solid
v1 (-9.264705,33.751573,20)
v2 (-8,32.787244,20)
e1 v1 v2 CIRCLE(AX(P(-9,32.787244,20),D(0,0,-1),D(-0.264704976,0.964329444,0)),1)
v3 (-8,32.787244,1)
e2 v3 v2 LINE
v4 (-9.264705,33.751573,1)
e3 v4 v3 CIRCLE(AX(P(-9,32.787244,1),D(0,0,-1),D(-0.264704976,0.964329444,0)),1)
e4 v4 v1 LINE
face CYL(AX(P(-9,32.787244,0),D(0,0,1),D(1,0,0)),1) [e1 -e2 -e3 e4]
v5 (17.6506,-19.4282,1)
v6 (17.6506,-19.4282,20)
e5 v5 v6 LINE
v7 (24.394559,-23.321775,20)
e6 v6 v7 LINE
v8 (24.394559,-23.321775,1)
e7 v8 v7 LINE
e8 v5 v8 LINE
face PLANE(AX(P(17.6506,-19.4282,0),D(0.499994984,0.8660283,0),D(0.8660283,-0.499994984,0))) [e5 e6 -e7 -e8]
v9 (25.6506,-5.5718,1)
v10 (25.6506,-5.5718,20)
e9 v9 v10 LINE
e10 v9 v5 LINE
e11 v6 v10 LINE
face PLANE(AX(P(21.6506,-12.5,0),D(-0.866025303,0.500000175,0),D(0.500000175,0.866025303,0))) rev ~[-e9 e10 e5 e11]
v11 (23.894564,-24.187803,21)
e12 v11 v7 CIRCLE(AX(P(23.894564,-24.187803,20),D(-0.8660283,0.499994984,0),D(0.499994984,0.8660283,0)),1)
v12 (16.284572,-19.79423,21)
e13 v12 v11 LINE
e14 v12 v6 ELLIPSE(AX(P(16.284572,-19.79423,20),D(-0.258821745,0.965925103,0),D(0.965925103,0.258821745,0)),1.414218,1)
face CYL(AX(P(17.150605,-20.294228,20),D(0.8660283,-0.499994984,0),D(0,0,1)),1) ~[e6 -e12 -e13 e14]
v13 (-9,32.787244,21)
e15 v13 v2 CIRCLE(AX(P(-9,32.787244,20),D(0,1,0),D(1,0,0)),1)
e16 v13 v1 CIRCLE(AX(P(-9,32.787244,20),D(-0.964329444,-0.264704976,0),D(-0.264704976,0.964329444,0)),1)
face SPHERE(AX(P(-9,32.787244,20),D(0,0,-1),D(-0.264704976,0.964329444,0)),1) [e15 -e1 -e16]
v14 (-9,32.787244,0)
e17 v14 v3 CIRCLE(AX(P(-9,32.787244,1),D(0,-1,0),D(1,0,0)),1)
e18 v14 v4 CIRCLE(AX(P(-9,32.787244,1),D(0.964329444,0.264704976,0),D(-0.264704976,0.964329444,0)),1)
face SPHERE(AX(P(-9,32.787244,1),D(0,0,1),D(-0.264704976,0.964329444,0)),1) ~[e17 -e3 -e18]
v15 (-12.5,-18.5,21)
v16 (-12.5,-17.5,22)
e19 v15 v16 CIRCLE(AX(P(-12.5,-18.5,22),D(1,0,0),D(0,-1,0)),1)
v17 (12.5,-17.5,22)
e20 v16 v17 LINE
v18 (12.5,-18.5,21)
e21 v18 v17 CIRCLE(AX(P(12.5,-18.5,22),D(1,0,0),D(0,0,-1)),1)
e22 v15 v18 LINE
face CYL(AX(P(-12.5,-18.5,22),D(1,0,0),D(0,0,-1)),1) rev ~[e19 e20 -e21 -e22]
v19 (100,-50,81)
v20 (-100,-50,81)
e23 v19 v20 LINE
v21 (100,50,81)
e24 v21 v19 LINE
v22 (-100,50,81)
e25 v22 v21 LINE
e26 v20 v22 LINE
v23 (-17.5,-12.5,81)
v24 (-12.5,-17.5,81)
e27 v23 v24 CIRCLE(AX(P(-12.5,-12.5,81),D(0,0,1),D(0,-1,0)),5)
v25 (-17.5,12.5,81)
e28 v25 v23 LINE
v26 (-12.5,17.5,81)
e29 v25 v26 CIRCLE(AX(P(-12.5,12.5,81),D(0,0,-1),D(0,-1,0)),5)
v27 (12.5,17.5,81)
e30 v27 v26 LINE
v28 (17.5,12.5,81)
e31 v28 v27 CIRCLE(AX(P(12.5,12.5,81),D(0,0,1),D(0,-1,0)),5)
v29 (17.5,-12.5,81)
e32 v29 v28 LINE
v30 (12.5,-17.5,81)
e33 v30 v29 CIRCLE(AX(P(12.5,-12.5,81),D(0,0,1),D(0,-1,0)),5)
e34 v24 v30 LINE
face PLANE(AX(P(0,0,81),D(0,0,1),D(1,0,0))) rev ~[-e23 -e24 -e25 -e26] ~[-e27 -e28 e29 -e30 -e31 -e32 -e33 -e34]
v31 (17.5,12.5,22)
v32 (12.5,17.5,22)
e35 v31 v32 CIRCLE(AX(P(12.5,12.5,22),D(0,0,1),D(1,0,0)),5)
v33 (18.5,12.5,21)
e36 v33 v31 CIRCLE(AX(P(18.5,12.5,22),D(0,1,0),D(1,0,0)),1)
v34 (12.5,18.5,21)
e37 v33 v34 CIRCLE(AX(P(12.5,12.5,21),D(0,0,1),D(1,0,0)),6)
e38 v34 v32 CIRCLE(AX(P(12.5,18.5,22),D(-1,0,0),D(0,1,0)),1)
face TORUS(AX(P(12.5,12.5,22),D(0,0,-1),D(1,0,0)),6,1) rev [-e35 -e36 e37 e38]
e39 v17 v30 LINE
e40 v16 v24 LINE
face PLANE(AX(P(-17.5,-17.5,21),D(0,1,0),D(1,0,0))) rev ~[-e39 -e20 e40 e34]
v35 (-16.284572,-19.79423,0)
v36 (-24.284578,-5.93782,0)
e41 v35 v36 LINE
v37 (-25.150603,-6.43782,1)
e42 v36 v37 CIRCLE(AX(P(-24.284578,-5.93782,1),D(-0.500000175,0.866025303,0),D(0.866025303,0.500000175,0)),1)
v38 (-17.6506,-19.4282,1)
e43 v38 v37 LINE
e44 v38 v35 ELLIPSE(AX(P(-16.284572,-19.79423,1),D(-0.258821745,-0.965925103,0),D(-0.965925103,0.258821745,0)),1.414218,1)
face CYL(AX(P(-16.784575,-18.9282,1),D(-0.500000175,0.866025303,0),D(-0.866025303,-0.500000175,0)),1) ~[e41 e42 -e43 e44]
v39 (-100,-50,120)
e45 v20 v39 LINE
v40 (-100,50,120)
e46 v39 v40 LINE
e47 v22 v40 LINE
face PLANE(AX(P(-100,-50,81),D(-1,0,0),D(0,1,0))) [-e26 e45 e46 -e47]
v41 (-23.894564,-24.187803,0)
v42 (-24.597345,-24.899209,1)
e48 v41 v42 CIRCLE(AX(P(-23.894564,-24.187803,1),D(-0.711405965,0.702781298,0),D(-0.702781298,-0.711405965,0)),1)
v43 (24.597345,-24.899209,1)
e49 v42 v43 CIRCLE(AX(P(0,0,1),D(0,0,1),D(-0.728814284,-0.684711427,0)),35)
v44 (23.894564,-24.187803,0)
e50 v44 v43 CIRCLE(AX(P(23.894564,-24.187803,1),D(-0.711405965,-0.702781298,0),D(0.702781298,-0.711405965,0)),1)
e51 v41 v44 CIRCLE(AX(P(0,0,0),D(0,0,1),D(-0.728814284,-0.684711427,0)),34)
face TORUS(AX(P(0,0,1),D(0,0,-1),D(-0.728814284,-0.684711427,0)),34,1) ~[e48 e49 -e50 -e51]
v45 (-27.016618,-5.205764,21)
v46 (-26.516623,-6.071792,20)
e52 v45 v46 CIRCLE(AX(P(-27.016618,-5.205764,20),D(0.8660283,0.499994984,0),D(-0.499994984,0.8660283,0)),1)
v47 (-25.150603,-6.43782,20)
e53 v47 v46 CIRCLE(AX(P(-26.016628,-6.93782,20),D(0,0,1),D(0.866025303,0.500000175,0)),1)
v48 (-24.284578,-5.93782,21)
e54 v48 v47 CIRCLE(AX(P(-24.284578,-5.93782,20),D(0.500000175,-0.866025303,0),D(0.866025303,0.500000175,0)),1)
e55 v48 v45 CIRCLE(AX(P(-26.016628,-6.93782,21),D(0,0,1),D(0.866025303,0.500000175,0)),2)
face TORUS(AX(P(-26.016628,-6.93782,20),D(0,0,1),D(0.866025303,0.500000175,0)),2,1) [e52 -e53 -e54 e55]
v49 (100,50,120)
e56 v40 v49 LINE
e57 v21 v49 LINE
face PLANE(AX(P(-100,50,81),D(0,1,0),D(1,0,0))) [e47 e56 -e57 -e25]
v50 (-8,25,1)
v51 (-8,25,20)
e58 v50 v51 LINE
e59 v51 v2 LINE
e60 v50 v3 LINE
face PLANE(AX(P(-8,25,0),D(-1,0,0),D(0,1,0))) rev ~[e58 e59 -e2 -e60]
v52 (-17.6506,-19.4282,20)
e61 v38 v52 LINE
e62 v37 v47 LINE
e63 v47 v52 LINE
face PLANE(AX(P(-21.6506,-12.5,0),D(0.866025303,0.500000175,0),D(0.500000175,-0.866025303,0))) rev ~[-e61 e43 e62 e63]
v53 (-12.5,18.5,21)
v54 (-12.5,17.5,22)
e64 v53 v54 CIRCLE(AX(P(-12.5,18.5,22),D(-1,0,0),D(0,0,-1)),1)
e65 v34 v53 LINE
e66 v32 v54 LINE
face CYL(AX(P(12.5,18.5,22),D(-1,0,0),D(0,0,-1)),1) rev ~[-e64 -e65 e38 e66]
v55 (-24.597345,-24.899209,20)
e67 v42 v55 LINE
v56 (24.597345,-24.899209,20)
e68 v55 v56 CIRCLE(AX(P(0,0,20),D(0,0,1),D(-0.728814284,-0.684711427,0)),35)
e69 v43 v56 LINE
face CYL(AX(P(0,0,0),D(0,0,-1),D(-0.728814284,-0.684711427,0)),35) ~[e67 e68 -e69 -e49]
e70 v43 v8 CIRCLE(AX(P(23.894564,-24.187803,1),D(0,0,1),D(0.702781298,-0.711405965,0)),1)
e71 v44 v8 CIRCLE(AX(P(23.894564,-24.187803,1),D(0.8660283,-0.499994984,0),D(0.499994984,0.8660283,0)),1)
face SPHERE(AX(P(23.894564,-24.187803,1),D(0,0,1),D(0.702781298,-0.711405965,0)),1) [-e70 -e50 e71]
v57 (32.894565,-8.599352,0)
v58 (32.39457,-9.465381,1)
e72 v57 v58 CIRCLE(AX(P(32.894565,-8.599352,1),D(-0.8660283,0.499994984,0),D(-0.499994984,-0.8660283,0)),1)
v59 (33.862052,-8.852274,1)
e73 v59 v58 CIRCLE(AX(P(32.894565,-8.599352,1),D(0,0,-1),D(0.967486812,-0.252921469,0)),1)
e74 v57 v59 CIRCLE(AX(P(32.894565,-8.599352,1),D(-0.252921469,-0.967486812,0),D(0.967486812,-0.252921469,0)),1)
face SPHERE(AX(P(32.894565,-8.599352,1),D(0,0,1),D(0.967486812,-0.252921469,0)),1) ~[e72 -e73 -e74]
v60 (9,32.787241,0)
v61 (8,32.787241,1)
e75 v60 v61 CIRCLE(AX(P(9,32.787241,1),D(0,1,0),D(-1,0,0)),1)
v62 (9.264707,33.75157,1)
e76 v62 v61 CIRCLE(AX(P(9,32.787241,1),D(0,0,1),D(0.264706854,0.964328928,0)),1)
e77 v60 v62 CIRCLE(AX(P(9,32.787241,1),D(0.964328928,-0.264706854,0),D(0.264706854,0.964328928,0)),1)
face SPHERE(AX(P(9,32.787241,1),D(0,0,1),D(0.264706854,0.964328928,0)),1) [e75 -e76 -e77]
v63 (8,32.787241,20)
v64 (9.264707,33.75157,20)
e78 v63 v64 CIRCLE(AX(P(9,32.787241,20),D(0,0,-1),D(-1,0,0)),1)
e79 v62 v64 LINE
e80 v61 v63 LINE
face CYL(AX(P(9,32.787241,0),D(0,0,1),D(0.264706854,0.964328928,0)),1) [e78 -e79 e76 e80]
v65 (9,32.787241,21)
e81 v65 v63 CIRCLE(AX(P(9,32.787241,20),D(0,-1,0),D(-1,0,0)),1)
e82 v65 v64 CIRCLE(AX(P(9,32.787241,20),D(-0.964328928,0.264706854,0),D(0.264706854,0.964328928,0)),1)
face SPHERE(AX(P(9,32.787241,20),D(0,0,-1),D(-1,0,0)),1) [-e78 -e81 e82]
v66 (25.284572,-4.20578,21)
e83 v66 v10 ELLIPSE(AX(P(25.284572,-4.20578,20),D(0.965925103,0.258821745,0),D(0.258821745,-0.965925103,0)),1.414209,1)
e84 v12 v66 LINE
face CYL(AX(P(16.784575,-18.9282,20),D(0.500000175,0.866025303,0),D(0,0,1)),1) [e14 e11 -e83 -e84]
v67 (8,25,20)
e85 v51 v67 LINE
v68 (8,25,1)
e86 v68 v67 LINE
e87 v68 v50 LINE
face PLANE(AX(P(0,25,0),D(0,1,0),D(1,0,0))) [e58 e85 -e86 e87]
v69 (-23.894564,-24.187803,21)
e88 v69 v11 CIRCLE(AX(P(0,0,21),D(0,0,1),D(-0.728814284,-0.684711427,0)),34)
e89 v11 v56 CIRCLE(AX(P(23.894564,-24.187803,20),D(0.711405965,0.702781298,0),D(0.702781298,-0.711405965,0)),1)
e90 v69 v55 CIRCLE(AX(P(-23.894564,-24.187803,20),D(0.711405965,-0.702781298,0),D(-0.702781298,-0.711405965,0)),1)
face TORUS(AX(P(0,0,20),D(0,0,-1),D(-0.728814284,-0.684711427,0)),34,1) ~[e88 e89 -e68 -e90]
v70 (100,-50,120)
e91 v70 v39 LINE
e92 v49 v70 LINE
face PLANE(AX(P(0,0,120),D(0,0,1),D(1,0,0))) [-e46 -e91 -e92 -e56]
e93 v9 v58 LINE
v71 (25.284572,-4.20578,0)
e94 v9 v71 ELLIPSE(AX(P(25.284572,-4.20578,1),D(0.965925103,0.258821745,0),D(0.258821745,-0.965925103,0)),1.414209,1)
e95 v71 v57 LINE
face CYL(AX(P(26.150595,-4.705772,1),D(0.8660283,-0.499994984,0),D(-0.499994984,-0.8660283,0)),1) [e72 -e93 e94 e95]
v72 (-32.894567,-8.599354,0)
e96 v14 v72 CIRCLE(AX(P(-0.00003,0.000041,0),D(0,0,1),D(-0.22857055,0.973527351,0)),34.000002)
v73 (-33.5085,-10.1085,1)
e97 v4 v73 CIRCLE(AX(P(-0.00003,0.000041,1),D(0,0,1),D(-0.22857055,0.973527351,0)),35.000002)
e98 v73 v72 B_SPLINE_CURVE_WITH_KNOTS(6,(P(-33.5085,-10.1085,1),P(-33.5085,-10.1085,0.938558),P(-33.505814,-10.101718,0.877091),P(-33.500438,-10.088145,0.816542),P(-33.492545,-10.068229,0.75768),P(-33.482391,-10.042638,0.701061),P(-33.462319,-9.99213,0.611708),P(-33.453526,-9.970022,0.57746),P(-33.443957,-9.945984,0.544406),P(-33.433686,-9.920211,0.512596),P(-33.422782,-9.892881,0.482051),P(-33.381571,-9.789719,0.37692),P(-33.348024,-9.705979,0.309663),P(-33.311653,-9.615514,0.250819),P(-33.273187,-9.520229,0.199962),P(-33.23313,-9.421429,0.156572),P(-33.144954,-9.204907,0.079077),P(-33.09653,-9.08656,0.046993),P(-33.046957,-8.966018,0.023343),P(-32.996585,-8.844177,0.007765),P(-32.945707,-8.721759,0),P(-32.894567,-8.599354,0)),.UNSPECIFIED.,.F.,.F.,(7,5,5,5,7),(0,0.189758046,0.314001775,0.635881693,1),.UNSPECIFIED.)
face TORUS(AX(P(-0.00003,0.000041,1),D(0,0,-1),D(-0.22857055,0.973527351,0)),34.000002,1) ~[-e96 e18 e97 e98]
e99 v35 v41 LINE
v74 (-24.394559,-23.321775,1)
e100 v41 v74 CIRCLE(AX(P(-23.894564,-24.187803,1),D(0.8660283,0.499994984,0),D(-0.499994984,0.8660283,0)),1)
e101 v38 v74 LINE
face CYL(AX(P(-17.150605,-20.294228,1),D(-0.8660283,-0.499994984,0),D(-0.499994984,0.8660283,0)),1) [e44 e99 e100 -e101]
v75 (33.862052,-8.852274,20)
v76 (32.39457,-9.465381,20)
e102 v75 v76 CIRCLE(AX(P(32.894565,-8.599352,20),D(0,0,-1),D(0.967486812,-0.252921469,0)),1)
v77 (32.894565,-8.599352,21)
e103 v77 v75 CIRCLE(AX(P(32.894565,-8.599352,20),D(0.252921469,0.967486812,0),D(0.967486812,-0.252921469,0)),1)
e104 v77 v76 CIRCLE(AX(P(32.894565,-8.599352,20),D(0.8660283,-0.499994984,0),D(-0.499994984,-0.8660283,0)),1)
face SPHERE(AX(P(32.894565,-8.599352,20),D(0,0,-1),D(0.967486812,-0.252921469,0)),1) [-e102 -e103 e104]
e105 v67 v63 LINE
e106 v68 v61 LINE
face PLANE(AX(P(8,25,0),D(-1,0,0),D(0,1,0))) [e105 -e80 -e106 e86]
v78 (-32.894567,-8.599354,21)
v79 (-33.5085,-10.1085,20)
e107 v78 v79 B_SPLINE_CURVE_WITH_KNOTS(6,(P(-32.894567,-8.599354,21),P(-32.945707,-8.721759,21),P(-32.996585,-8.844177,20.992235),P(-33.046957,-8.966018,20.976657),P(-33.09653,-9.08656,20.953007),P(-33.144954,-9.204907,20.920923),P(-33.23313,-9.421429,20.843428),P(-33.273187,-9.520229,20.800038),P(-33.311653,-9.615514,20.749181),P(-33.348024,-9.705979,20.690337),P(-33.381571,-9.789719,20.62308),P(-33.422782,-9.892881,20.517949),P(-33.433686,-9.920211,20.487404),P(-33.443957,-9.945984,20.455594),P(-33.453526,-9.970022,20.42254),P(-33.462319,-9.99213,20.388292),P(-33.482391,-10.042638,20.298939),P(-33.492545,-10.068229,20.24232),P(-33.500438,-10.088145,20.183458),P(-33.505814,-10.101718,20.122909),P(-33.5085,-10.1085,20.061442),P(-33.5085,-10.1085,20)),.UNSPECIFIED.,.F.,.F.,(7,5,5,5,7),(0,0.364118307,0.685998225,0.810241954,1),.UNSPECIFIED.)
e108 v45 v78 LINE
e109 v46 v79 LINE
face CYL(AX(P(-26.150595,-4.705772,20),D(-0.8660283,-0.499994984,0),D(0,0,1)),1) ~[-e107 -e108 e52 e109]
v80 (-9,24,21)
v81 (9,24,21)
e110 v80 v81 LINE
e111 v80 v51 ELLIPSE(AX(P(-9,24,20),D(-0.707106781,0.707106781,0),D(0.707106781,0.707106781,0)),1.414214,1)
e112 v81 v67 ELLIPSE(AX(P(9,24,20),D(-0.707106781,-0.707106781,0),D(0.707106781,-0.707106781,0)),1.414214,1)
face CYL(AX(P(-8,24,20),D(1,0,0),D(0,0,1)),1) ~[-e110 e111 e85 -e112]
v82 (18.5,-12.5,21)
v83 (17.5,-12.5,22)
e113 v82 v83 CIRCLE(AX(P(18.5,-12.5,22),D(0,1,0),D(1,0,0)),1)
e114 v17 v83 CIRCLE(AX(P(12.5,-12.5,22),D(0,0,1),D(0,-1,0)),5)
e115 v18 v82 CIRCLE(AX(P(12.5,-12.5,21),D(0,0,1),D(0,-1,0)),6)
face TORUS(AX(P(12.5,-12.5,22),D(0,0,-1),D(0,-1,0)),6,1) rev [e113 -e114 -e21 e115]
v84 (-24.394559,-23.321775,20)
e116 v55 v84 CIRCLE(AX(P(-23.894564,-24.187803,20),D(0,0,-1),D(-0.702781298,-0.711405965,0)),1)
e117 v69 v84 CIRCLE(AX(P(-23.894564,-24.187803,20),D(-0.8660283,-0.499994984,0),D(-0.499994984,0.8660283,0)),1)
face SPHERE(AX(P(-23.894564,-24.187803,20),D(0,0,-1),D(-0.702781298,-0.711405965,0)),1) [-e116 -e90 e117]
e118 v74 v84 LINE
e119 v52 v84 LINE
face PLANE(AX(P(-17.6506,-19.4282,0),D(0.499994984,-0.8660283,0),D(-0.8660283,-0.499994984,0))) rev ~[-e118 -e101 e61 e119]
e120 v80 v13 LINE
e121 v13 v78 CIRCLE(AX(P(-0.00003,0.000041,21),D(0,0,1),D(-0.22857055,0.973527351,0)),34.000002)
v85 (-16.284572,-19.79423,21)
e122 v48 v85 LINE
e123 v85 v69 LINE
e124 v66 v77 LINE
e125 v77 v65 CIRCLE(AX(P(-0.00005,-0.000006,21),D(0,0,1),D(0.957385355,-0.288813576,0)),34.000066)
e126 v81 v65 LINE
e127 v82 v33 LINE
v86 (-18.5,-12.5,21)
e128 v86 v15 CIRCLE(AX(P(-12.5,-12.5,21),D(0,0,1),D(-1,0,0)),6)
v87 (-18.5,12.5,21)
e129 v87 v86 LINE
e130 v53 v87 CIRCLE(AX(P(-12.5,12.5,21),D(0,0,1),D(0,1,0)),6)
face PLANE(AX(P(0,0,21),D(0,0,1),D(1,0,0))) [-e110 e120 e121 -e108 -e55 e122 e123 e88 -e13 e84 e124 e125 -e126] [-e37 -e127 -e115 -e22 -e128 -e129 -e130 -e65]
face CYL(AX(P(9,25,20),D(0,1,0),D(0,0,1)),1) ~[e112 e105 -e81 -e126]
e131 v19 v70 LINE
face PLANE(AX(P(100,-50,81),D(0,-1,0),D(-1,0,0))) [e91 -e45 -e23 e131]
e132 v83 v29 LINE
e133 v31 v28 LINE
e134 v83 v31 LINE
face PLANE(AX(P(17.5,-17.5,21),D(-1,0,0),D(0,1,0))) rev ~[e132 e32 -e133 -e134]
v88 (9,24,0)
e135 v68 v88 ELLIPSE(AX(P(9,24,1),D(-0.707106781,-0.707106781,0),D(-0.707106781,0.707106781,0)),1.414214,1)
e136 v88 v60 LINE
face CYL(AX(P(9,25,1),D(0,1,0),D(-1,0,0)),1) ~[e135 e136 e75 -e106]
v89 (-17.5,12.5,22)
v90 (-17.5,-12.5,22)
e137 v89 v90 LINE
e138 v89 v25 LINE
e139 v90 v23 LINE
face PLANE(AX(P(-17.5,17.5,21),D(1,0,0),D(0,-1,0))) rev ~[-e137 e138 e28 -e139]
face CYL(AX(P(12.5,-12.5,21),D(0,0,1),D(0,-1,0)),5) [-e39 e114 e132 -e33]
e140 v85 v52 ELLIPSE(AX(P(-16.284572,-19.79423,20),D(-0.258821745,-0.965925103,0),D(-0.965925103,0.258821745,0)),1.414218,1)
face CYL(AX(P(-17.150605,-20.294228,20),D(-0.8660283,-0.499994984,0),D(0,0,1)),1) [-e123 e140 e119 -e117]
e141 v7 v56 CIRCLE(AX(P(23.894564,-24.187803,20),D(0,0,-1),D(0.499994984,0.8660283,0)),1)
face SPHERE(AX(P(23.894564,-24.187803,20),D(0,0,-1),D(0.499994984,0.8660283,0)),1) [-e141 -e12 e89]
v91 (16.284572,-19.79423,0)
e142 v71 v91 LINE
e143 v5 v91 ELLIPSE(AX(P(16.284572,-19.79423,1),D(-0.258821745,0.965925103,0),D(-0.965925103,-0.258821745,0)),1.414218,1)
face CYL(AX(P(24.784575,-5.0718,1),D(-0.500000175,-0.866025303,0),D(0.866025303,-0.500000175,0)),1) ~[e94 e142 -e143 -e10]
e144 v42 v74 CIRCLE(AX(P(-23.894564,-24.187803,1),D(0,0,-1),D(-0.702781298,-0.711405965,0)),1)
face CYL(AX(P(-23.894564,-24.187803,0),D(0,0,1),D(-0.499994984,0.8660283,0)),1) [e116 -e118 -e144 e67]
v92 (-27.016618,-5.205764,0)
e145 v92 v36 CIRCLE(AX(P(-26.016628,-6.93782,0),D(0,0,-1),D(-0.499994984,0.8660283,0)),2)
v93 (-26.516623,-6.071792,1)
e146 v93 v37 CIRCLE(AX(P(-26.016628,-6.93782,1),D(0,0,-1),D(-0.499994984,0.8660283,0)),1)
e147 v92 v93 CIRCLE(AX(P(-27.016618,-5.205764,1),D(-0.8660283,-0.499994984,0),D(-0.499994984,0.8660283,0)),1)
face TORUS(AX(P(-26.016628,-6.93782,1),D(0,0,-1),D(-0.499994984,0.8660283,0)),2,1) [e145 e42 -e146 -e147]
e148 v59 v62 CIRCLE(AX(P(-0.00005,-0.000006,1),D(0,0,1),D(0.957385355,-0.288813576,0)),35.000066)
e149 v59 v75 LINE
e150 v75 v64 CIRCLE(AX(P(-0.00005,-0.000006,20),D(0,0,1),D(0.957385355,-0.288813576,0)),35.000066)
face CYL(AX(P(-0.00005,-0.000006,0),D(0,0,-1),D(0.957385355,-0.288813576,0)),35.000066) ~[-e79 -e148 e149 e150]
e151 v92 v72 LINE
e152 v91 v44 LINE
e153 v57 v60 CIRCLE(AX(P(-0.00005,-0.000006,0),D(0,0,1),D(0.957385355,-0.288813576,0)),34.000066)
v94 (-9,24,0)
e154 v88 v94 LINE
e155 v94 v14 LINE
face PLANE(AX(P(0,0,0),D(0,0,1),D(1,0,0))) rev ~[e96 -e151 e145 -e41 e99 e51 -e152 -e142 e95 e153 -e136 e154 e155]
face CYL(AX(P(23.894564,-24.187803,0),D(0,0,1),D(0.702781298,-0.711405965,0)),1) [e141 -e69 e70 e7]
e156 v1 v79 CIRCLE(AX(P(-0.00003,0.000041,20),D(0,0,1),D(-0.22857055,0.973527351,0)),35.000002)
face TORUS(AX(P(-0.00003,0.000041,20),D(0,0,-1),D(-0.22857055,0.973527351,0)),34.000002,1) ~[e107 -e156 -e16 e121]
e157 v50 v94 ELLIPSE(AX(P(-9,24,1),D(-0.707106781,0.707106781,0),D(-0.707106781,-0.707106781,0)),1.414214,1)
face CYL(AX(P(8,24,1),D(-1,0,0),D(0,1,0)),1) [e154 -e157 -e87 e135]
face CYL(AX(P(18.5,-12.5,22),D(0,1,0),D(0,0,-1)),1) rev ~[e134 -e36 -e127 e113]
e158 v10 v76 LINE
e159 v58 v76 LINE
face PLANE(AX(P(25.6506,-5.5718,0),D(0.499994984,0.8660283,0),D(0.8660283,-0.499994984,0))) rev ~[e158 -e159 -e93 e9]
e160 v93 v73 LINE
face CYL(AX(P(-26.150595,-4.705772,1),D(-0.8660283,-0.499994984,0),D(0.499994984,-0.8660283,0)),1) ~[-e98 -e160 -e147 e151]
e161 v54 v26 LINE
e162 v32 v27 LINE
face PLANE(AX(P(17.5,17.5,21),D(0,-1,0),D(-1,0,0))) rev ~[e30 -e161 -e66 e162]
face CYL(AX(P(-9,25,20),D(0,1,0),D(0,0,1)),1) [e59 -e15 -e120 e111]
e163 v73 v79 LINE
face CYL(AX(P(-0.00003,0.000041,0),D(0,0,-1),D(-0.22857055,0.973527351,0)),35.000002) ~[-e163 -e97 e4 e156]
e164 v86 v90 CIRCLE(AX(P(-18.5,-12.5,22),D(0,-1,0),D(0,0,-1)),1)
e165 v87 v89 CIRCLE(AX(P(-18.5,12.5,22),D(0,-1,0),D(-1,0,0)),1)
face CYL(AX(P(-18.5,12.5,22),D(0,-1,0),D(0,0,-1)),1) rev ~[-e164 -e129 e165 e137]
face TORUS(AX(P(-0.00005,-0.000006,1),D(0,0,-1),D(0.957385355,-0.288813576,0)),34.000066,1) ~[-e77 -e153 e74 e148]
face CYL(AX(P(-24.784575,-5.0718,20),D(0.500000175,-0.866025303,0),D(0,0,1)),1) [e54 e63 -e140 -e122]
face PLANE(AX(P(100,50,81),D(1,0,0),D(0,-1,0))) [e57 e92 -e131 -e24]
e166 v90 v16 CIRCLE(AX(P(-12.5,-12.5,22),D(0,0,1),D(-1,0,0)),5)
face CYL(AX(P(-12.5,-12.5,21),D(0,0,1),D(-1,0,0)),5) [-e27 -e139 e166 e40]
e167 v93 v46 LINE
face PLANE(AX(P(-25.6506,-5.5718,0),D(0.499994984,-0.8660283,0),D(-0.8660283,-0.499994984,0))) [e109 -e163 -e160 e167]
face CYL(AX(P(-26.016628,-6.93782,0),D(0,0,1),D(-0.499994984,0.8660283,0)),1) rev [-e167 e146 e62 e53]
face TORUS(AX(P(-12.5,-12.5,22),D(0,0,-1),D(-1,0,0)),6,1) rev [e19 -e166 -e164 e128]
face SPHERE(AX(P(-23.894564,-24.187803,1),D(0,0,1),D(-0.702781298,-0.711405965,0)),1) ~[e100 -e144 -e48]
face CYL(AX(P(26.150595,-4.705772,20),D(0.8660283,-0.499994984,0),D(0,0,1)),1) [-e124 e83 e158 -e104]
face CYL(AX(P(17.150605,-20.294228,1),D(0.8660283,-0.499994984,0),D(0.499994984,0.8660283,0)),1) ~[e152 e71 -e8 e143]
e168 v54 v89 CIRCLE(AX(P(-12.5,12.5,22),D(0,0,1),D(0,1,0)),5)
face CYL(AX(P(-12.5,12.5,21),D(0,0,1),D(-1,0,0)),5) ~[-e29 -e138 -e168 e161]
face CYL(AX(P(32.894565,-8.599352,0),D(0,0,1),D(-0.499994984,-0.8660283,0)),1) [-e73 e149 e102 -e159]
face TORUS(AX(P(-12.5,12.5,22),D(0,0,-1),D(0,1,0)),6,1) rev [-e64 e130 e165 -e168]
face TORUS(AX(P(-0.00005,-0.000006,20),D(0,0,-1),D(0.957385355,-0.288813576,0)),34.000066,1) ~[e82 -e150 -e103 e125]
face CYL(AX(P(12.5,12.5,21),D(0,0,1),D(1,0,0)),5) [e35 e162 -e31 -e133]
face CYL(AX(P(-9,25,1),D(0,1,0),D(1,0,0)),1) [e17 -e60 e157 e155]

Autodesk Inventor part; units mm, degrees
ref_plane "YZ Plane" through (0, 0, 0) normal (1, 0, 0) x (0, 1, 0)
ref_plane "XZ Plane" through (0, 0, 0) normal (0, 1, 0) x (-1, 0, 0)
ref_plane "XY Plane" through (0, 0, 0) normal (0, 0, 1) x (1, 0, 0)
sketch "Sketch1" plane through (0, 0, 0) normal (0, 0, 1) x (1, 0, 0)
  circle A0 centre (0, 0) radius 25 construction
  line L0 (0, 0) -> (0, 25) construction
  line L1 (0, 0) -> (21.6506, -12.5) construction
  line L2 (0, 0) -> (-21.6506, -12.5) construction
  line L3 (0, 25) -> (8, 25)
  line L4 (0, 25) -> (-8, 25)
  line L5 (0, 25) -> (8, 25) construction
  line L6 (21.6506, -12.5) -> (25.6506, -5.5718)
  line L7 (21.6506, -12.5) -> (29.6506, -12.5) construction
  line L8 (21.6506, -12.5) -> (17.6506, -19.4282)
  line L9 (21.6506, -12.5) -> (29.6506, -12.5) construction
  line L10 (-21.6506, -12.5) -> (-25.6506, -5.5718)
  line L11 (-21.6506, -12.5) -> (-13.6506, -12.5) construction
  line L12 (-21.6506, -12.5) -> (-17.6506, -19.4282)
  line L13 (-21.6506, -12.5) -> (-13.6506, -12.5) construction
  line L14 (8, 25) -> (8, 34.0735)
  line L15 (-8, 25) -> (-8, 34.0735)
  line L16 (25.6506, -5.5718) -> (33.5085, -10.1085)
  line L17 (17.6506, -19.4282) -> (25.5085, -23.9649)
  line L18 (-17.6506, -19.4282) -> (-25.5085, -23.9649)
  line L19 (-25.6506, -5.5718) -> (-33.5085, -10.1085)
  arc A1 (33.5085, -10.1085) -> (8, 34.0735) centre (0, 0) ccw
  arc A2 (-8, 34.0735) -> (-33.5085, -10.1085) centre (0, 0) ccw
  arc A3 (-25.5085, -23.9649) -> (25.5085, -23.9649) centre (0, 0) ccw
  dimension "d0" = 50
  dimension "d1" = 120
  dimension "d2" = 120
  dimension "d3" = 8
  dimension "d4" = 8
  dimension "d5" = 180
  dimension "d6" = 8
  dimension "d7" = 60
  dimension "d8" = 8
  dimension "d9" = 120
  dimension "d10" = 8
  dimension "d11" = 120
  dimension "d12" = 8
  dimension "d13" = 60
  dimension "d15" = 35
  dimension "d16" = 35
  dimension "d17" = 35
extrude "Extrusion1" add sketch "Sketch1" along normal blind 21
sketch "Sketch2" plane through (0, 0, 21) normal (0, 0, 1) x (1, 0, 0)
  line L0 (-17.5, -17.5) -> (17.5, -17.5)
  line L1 (17.5, -17.5) -> (17.5, 17.5)
  line L2 (17.5, 17.5) -> (-17.5, 17.5)
  line L3 (-17.5, 17.5) -> (-17.5, -17.5)
  line L4 (-17.5, -17.5) -> (17.5, 17.5) construction
  line L5 (17.5, -17.5) -> (-17.5, 17.5) construction
  point P0 (0, 0)
  dimension "d20" = 35
  dimension "d21" = 35
extrude "Extrusion2" add sketch "Sketch2" along normal blind 60
fillet "Fillet1" radius 5 4 edges at (17.5, 17.5, 51) (17.5, -17.5, 51) (-17.5, 17.5, 51) (-17.5, -17.5, 51)
fillet "Fillet2" radius 1 38 edges at (30.3109, 17.5, 0) (-30.3109, 17.5, 0) (0, -35, 0) (21.6506, -12.5, 0) (29.5796, -7.8402, 0) (21.5796, -21.6966, 0) (8, 29.5367, 0) (0, 25, 0) (-8, 29.5367, 0) (-29.5796, -7.8402, 0) (-21.6506, -12.5, 0) (-21.5796, -21.6966, 0) (16.0355, 16.0355, 21) (17.5, 0, 21) (16.0355, -16.0355, 21) (0, -17.5, 21) (-16.0355, -16.0355, 21) (-17.5, 0, 21) (-16.0355, 16.0355, 21) (0, 17.5, 21) (-30.3109, 17.5, 21) (-8, 29.5367, 21) (0, 25, 21) (8, 29.5367, 21) (30.3109, 17.5, 21) (29.5796, -7.8402, 21) (21.6506, -12.5, 21) (21.5796, -21.6966, 21) (0, -35, 21) (-21.5796, -21.6966, 21) (-21.6506, -12.5, 21) (-29.5796, -7.8402, 21) (-8, 34.0735, 10.5) (8, 34.0735, 10.5) (33.5085, -10.1085, 10.5) (25.5085, -23.9649, 10.5) (-25.5085, -23.9649, 10.5) (-25.6506, -5.5718, 10.5)
sketch "Sketch4" plane through (0, 0, 81) normal (0, 0, 1) x (1, 0, 0)
  line L0 (-100, 50) -> (100, 50)
  line L1 (100, 50) -> (100, -50)
  line L2 (100, -50) -> (-100, -50)
  line L3 (-100, -50) -> (-100, 50)
  line L4 (-100, 50) -> (100, -50) construction
  line L5 (100, 50) -> (-100, -50) construction
  point P0 (0, 0)
  dimension "d29" = 200
  dimension "d30" = 100
extrude "Extrusion4" add sketch "Sketch4" along normal blind 39
equation "\"d3\" = d4"
equation "\"d6\" = d4"
equation "\"d8\" = d4"
equation "\"d10\" = d4"
equation "\"d12\" = d4"
equation "\"d16\" = d15"
equation "\"d17\" = d15"
properties part number "Sponge"
